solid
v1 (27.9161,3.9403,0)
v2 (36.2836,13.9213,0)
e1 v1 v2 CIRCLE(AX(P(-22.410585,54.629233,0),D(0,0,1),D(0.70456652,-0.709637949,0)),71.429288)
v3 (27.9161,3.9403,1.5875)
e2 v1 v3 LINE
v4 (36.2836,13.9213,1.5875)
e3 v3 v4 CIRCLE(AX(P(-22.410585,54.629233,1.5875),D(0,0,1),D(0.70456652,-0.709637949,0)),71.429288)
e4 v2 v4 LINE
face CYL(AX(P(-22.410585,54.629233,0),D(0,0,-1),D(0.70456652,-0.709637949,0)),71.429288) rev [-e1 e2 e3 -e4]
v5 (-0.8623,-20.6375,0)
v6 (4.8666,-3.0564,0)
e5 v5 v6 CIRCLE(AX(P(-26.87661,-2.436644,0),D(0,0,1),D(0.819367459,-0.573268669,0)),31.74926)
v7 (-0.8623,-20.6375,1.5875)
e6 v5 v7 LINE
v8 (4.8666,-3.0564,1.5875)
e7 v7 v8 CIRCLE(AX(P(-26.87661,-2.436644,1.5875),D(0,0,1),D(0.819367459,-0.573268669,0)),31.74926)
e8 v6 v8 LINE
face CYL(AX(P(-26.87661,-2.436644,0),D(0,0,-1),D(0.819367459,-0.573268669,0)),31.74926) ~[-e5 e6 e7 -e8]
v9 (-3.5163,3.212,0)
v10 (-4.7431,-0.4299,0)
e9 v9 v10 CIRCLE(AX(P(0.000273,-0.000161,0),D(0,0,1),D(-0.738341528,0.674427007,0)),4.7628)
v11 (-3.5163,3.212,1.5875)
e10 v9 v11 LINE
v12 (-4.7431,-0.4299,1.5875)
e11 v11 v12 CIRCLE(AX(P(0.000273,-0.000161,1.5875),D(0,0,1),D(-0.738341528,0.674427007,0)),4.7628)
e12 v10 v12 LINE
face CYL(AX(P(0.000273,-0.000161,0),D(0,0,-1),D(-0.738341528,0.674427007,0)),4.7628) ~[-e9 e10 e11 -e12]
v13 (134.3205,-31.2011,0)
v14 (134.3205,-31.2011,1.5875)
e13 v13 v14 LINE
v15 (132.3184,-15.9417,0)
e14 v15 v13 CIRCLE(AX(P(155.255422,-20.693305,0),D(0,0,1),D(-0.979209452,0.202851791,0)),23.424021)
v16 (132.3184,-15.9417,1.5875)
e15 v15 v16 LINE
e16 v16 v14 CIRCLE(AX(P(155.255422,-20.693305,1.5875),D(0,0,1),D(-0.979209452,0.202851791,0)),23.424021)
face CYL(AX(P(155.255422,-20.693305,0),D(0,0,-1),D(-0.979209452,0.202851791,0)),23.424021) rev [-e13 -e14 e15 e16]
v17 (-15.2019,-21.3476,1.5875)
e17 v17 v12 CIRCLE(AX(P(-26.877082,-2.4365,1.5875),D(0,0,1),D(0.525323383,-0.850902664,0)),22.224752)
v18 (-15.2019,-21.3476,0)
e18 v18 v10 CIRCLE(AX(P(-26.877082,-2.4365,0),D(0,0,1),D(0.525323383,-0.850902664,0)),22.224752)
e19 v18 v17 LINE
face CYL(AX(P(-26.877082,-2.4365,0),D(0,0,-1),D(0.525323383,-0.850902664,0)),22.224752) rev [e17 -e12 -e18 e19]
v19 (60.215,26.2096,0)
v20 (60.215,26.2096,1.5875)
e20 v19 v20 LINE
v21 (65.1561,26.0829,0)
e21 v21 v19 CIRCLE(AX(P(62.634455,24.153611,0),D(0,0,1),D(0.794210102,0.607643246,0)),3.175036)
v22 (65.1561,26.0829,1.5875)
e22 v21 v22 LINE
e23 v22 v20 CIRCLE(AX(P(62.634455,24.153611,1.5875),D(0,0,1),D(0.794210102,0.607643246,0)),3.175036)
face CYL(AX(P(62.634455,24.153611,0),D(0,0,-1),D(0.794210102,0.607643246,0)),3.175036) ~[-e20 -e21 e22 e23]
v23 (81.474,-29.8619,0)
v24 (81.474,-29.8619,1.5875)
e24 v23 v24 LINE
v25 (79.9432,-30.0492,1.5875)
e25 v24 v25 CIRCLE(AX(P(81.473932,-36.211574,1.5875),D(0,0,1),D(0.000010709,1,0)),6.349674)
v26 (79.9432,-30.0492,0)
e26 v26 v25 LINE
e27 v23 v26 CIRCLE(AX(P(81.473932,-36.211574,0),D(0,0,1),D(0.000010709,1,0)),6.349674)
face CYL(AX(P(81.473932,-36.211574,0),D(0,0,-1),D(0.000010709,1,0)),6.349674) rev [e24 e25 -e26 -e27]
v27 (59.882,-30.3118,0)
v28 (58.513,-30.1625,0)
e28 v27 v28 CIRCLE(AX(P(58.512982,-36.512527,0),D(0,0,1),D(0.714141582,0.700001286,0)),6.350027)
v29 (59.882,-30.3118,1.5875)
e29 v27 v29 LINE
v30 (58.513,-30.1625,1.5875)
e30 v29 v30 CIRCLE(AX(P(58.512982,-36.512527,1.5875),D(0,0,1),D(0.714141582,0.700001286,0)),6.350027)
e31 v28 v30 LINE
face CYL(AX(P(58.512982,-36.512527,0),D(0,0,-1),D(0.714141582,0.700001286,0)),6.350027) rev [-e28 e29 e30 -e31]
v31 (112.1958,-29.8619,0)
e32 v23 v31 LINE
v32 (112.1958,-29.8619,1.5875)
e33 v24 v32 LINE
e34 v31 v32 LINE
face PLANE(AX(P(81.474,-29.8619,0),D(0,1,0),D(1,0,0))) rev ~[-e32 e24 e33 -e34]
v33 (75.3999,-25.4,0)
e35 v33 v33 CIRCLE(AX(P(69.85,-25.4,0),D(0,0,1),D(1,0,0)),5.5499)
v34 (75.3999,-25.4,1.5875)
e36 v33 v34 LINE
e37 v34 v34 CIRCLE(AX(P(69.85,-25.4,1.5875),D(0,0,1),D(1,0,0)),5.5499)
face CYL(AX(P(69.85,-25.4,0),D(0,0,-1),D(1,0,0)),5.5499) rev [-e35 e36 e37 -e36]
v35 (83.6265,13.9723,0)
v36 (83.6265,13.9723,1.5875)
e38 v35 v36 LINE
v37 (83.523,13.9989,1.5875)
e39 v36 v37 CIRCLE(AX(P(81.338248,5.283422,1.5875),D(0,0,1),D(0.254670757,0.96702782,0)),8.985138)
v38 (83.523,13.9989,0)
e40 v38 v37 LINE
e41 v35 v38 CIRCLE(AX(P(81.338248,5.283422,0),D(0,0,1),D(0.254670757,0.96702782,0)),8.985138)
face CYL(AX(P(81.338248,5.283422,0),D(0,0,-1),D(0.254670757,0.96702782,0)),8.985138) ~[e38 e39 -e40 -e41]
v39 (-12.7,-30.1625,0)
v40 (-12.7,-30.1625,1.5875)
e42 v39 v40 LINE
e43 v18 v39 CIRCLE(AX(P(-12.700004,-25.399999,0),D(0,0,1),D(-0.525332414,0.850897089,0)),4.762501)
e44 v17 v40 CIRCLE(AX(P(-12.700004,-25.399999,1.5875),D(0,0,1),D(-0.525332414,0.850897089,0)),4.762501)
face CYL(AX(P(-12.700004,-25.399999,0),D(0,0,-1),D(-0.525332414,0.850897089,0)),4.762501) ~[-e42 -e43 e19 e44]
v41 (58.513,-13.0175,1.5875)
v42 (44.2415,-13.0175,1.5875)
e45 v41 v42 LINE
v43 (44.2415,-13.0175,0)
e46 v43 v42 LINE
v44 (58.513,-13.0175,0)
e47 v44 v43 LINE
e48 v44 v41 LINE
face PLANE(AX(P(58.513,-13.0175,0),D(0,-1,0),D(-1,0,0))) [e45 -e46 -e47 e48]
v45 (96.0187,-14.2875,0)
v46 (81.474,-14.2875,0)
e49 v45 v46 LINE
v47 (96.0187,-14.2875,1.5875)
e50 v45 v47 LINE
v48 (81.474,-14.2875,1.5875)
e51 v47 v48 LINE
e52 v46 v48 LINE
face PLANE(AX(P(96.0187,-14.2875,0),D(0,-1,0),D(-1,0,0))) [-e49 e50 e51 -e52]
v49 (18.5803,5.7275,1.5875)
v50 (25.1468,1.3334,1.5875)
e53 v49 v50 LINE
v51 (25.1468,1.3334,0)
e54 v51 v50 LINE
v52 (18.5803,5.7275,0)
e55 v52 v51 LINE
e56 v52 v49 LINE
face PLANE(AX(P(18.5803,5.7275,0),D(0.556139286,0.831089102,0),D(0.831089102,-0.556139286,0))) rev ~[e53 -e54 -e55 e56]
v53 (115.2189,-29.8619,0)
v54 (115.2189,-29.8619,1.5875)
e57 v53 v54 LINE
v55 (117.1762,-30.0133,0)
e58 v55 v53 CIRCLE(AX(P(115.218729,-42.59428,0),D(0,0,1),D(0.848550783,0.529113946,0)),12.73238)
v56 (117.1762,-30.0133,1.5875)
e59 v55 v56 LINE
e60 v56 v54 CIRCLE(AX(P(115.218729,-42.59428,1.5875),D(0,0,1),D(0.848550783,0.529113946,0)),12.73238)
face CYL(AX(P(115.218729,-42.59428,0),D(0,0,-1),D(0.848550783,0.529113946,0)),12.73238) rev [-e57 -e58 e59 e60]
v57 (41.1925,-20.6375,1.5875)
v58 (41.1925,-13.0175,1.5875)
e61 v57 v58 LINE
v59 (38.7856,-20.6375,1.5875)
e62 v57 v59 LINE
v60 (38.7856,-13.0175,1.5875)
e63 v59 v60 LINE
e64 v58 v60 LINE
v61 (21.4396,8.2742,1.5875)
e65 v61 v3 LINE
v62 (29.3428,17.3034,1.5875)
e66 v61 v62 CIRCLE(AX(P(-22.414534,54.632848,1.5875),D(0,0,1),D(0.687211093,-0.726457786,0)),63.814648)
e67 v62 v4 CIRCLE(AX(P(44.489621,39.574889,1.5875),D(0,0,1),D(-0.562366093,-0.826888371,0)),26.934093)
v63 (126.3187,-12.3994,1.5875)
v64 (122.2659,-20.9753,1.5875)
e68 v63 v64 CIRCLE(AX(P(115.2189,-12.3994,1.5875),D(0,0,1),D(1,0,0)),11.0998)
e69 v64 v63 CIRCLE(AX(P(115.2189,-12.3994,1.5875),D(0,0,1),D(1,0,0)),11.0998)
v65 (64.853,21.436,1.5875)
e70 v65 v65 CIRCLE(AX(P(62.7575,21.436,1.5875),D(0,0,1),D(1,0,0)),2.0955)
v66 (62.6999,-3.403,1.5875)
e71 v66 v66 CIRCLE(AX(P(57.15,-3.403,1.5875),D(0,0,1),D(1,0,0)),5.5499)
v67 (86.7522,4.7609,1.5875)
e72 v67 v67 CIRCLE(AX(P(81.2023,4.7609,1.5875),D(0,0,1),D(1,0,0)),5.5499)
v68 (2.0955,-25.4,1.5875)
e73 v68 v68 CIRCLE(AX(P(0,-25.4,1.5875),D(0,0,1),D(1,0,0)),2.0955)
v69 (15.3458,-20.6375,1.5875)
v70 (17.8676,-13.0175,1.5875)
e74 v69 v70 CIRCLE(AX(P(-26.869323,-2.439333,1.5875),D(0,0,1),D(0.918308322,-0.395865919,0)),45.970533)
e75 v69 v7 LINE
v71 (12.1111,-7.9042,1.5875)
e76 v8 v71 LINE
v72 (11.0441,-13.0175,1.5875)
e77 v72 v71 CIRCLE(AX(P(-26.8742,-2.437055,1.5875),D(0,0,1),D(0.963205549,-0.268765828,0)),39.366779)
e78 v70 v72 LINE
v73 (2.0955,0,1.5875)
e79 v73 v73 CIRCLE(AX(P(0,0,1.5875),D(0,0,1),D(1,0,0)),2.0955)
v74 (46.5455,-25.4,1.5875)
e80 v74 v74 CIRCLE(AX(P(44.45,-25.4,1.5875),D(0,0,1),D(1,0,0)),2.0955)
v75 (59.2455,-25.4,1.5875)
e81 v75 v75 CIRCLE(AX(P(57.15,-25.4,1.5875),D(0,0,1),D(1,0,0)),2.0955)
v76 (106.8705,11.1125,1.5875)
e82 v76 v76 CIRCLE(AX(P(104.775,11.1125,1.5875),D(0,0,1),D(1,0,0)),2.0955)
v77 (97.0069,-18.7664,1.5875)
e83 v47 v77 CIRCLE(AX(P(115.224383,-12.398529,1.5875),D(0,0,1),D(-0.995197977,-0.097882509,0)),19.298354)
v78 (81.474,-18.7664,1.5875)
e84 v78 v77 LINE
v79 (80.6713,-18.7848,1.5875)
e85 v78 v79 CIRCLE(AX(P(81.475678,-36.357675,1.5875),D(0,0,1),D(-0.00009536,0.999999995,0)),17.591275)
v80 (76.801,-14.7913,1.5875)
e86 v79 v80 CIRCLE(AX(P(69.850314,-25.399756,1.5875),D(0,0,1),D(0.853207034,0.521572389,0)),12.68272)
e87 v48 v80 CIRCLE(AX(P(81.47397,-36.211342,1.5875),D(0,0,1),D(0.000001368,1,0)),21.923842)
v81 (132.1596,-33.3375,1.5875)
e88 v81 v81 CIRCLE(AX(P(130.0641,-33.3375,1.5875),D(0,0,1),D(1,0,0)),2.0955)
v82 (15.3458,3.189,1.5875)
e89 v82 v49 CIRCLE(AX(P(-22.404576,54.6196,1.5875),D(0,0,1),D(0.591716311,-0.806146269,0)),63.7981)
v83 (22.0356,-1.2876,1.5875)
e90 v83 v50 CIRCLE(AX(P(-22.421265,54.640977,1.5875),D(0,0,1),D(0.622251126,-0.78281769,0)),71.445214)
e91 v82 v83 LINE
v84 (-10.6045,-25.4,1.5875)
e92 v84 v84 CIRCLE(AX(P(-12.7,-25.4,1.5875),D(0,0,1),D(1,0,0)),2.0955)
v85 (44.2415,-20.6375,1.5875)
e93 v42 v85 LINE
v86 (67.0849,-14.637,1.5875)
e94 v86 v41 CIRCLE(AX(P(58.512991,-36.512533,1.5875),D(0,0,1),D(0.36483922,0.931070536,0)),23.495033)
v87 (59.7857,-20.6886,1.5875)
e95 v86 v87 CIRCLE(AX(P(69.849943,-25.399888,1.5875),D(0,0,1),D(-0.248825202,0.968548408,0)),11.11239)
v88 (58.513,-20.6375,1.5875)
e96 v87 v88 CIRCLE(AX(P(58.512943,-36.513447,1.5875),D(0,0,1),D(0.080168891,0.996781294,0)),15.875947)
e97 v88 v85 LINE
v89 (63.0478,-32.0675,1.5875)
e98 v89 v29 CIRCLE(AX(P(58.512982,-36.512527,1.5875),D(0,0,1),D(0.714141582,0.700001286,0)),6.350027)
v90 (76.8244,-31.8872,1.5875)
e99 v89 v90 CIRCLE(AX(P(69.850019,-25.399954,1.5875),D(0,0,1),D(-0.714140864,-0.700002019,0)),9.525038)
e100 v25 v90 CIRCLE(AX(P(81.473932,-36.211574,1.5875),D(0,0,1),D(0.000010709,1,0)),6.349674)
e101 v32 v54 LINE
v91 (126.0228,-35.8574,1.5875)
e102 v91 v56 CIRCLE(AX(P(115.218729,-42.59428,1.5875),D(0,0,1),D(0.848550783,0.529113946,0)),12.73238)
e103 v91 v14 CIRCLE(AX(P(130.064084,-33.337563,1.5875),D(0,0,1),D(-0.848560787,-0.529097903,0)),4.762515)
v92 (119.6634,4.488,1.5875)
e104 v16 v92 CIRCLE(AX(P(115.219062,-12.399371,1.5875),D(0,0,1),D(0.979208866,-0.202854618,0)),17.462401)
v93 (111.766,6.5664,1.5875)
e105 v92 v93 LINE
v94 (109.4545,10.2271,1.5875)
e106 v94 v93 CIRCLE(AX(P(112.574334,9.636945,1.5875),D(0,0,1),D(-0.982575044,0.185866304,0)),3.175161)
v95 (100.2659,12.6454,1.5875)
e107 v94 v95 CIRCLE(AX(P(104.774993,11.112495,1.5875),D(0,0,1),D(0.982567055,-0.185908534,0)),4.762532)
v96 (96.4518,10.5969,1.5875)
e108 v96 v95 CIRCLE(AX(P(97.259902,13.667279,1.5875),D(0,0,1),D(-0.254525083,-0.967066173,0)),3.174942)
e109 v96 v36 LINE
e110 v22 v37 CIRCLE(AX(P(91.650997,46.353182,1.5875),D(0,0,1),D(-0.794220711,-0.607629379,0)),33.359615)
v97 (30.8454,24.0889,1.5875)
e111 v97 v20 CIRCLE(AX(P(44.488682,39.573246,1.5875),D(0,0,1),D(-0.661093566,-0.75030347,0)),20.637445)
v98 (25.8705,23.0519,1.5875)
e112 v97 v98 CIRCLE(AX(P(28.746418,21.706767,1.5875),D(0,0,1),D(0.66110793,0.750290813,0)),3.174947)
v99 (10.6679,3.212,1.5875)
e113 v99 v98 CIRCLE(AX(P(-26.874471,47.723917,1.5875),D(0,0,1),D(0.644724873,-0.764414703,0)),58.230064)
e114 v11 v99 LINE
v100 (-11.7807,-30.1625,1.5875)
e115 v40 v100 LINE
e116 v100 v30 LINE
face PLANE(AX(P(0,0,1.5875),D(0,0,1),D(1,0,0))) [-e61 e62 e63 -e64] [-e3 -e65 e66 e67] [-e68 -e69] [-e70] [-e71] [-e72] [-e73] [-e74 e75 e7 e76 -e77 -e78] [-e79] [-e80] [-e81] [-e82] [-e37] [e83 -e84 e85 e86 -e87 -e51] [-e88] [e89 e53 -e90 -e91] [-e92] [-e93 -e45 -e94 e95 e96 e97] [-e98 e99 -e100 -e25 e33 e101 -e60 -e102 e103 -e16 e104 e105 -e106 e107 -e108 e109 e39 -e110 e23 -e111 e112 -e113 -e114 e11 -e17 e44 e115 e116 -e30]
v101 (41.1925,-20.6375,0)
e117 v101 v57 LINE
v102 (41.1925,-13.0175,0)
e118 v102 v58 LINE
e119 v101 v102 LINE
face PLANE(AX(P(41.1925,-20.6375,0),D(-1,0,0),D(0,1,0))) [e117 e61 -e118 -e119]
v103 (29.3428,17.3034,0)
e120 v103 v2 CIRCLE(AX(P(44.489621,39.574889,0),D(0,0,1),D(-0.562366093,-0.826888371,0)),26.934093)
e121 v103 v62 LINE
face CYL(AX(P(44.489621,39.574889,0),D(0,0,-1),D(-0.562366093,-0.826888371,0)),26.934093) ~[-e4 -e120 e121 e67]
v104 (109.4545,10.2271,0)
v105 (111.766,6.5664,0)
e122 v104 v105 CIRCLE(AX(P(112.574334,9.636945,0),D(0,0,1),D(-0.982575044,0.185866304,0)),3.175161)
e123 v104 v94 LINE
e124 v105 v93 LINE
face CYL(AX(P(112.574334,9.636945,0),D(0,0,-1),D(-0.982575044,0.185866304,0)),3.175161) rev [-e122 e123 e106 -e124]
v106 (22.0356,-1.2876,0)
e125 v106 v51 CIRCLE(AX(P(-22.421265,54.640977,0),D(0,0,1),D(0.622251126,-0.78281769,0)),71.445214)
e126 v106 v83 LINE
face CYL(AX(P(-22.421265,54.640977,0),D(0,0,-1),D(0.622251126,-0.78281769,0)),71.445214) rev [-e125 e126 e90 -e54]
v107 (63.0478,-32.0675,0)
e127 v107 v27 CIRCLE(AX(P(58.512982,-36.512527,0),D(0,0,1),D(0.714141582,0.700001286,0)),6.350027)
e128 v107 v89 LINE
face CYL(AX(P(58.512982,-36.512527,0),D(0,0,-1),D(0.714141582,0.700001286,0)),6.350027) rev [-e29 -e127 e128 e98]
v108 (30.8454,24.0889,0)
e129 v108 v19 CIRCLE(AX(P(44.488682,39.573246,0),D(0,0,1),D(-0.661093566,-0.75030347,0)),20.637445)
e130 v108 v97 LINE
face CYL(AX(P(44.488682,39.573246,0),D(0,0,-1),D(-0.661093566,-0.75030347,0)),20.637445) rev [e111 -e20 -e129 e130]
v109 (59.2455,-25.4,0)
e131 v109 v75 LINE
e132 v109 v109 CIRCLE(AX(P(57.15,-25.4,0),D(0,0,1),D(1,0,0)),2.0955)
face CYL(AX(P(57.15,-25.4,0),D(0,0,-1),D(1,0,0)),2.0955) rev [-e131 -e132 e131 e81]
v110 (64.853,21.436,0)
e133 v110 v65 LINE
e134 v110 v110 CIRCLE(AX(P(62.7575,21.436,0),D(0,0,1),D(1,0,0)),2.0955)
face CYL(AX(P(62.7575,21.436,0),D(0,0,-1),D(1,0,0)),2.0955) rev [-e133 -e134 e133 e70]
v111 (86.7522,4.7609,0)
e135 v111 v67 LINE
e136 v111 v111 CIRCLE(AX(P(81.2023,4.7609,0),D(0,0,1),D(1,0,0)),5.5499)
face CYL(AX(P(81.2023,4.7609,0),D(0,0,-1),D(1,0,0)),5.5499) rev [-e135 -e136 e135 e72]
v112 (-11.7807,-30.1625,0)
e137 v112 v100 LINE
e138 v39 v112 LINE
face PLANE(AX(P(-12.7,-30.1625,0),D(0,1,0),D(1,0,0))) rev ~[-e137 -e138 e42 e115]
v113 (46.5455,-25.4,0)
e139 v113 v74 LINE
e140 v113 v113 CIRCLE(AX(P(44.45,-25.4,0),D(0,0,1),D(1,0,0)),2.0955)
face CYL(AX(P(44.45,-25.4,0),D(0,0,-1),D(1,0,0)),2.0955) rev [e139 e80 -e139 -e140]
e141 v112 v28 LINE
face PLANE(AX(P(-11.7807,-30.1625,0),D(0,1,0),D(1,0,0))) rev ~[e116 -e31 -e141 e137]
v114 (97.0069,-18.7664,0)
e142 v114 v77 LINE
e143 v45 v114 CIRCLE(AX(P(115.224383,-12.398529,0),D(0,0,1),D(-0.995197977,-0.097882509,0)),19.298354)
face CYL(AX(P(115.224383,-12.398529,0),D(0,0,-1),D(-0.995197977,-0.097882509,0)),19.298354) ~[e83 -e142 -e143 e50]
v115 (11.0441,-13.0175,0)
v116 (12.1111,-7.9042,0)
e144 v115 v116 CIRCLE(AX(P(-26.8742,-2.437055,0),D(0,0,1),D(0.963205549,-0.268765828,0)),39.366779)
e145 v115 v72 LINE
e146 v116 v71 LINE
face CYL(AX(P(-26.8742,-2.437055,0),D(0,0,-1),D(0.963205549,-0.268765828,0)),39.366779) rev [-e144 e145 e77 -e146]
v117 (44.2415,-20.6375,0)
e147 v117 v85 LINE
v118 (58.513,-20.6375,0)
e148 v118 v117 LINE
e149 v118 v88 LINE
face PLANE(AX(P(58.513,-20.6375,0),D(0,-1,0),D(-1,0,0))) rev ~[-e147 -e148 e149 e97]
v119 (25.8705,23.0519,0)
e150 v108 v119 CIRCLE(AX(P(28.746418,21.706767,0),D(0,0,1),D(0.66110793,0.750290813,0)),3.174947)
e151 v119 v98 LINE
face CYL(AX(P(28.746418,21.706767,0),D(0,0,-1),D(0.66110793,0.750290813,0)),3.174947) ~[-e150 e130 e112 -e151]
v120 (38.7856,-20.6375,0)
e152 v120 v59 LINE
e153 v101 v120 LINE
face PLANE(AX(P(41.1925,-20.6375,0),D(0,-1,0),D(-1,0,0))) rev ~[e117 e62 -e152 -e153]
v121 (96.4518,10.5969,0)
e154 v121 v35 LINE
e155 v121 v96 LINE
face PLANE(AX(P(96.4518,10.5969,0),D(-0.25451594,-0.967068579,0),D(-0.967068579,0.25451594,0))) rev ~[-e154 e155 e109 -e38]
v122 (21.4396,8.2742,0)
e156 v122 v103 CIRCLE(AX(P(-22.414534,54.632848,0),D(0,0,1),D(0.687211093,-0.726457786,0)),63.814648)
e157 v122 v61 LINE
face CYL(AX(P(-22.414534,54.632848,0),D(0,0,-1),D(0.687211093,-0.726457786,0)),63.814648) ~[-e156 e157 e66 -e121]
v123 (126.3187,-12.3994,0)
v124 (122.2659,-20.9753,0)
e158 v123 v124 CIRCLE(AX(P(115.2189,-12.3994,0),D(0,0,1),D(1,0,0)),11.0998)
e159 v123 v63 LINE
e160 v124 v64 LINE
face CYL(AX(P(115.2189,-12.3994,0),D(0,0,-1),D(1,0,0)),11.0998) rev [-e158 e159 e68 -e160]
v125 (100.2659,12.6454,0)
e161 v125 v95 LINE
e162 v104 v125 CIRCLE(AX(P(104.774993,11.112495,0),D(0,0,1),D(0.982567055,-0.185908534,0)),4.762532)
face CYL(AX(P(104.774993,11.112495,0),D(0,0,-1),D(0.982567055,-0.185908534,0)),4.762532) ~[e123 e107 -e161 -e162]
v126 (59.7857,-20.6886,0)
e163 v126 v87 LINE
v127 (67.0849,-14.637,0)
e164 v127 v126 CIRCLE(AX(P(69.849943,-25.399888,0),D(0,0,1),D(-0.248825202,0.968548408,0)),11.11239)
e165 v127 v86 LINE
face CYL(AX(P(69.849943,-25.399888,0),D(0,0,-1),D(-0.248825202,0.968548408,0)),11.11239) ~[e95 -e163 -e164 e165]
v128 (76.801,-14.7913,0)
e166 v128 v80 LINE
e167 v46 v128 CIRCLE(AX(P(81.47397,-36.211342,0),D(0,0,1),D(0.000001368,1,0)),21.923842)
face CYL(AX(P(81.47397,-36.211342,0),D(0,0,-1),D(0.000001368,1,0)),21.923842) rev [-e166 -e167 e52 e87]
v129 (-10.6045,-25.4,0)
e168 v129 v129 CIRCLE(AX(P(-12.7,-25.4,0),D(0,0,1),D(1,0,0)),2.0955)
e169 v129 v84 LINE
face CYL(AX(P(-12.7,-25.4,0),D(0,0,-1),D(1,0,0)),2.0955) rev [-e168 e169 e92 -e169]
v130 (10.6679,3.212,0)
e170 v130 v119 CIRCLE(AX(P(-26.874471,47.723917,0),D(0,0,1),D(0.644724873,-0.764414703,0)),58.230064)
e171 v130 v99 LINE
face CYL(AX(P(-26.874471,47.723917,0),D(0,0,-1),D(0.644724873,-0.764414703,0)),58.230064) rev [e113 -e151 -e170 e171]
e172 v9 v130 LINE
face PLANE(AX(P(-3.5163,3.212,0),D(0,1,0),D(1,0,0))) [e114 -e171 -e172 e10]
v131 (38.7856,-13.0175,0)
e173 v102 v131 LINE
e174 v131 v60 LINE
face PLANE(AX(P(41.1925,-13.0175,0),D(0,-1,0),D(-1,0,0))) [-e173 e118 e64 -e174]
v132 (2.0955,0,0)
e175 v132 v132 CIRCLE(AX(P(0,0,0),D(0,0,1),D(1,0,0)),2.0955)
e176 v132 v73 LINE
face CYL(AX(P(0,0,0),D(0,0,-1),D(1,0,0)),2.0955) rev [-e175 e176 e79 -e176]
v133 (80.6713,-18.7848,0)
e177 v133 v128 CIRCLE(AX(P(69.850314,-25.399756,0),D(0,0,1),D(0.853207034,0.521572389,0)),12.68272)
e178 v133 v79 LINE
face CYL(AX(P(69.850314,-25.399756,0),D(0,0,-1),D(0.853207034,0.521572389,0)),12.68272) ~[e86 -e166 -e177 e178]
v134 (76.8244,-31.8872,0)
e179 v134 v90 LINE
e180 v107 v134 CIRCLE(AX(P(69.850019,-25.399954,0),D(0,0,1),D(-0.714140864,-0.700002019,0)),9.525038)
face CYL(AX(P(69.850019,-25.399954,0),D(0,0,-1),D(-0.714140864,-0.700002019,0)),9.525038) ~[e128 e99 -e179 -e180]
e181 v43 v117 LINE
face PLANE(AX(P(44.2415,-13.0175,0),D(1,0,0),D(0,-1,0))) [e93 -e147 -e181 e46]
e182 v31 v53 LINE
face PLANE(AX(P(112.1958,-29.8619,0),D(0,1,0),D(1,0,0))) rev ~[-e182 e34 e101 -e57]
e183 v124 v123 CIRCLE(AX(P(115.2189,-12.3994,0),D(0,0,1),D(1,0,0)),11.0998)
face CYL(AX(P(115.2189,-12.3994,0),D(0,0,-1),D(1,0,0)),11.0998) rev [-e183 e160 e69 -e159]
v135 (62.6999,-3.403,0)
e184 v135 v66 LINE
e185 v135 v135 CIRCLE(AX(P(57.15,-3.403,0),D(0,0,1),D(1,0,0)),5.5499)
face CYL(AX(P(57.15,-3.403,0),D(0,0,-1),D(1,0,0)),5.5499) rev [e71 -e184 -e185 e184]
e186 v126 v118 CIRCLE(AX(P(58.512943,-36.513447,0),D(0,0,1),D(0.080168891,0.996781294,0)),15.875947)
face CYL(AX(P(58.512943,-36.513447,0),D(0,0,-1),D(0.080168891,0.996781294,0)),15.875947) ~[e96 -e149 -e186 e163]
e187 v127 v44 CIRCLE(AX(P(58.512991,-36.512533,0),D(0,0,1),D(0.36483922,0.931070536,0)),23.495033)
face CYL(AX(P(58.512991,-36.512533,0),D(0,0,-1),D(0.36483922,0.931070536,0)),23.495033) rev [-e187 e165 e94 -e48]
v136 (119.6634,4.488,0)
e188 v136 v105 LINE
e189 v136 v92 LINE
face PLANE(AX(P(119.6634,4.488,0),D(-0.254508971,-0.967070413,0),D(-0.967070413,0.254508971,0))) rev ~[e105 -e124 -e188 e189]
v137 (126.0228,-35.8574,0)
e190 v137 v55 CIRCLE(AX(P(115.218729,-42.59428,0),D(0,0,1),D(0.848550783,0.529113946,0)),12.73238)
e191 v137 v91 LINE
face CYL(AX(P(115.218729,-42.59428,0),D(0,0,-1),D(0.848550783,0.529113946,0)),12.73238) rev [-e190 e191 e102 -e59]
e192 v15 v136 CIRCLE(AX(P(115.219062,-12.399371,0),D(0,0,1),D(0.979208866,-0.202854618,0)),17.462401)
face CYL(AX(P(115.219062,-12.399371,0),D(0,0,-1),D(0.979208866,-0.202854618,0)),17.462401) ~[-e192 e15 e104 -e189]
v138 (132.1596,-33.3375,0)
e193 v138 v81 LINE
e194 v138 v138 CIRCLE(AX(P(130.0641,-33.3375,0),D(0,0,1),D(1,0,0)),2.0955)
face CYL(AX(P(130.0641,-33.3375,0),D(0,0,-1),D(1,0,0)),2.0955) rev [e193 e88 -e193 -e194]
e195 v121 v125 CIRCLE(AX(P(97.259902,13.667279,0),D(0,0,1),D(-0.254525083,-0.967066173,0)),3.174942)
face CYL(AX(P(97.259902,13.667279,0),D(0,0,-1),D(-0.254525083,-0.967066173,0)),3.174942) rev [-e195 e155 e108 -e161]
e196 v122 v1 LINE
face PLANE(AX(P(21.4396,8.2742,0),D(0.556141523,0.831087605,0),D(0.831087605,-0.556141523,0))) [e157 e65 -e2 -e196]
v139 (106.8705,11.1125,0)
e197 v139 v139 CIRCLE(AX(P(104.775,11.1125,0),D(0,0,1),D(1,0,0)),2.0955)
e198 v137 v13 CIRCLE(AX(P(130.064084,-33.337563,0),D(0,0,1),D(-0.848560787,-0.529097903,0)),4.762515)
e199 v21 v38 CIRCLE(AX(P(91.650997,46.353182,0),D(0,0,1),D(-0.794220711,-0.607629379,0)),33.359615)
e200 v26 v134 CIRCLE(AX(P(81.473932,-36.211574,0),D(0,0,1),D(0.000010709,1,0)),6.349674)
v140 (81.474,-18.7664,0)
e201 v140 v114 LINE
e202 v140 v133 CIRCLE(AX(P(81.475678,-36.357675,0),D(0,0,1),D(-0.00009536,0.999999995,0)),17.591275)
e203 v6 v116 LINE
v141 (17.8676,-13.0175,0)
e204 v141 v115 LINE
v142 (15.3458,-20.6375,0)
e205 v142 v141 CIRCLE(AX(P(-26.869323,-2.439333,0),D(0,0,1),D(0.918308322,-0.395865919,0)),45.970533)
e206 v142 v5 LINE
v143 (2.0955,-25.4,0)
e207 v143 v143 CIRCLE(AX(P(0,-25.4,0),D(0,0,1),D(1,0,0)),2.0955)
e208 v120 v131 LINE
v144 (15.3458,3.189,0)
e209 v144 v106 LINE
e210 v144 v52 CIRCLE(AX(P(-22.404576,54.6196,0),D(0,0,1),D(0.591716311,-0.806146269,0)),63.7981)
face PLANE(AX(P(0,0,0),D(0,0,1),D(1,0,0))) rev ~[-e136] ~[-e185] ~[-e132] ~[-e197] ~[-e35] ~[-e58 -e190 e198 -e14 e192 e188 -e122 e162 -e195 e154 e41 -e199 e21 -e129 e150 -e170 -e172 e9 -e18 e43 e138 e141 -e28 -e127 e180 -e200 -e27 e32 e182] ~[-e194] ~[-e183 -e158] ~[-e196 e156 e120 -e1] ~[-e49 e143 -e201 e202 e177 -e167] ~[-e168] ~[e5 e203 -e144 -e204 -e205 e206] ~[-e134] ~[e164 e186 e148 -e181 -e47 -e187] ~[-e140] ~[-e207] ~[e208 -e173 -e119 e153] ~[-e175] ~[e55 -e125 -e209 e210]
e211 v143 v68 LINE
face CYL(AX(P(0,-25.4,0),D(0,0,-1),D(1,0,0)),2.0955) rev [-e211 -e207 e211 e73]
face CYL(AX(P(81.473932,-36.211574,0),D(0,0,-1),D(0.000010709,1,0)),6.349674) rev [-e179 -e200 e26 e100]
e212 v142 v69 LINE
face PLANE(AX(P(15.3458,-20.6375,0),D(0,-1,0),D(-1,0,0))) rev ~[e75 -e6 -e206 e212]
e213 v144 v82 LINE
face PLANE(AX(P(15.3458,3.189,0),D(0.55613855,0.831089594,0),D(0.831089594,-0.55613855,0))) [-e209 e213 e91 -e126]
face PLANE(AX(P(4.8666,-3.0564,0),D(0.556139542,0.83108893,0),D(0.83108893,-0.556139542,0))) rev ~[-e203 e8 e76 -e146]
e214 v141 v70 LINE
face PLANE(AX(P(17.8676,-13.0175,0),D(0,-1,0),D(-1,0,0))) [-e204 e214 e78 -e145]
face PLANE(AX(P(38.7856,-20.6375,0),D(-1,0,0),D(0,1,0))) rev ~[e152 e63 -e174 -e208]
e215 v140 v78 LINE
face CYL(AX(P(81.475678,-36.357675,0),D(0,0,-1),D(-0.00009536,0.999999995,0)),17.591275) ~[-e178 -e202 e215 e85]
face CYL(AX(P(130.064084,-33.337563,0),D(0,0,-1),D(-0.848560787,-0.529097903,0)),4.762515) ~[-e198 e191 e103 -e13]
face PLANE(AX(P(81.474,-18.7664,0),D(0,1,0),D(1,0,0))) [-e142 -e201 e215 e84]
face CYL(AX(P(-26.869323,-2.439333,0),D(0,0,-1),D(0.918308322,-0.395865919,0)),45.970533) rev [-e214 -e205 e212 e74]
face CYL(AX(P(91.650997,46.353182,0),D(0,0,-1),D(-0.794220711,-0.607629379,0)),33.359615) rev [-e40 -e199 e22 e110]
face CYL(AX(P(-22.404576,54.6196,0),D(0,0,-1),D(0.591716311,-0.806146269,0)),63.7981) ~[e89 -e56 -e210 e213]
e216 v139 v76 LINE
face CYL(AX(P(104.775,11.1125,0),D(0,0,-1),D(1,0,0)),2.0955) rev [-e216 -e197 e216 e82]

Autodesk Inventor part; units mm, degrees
ref_plane "YZ Plane" through (0, 0, 0) normal (1, 0, 0) x (0, 1, 0)
ref_plane "XZ Plane" through (0, 0, 0) normal (0, 1, 0) x (-1, 0, 0)
ref_plane "XY Plane" through (0, 0, 0) normal (0, 0, 1) x (1, 0, 0)
sketch "main" plane through (0, 0, 0) normal (0, 0, 1) x (1, 0, 0)
  circle A0 centre (-14.2783, -9.7185) radius 2.1844
  ellipse E0 centre (34.925, 23.8125) end of major axis (34.925, 33.3375) minor radius 9.5235
  point P0 (-4.2471, 2.7063)
sketch "Sketch1" plane through (0, 0, 0) normal (0, 0, 1) x (1, 0, 0)
  arc A0 (-3.5163, 3.212) -> (-4.7431, -0.4299) centre (0, 0) ccw
  circle A1 centre (0, -25.4) radius 2.0955
  circle A2 centre (-12.7, -25.4) radius 2.0955
  arc A3 (-15.2019, -21.3476) -> (-12.7, -30.1625) centre (-12.7, -25.4) ccw
  line L0 (-12.7, -30.1625) -> (-11.7807, -30.1625)
  arc A4 (-15.2019, -21.3476) -> (-4.7431, -0.4299) centre (-26.8773, -2.4363) ccw
  line L1 (31.75, -25.4) -> (57.15, -25.4) construction
  line L2 (31.75, -25.4) -> (36.5125, -25.4) construction
  circle A5 centre (44.45, -25.4) radius 2.0955
  circle A6 centre (57.15, -25.4) radius 2.0955
  circle A7 centre (69.85, -25.4) radius 5.5499
  arc A8 (63.0478, -32.0675) -> (76.8244, -31.8872) centre (69.85, -25.4) ccw
  circle A9 centre (57.15, -3.403) radius 5.5499
  line L3 (-11.7807, -30.1625) -> (58.513, -30.1625)
  line L4 (81.474, -29.8619) -> (115.2189, -29.8619)
  line L5 (-11.7807, -30.1625) -> (61.6011, -30.1625) construction
  line L6 (78.2653, -29.8619) -> (115.2189, -29.8619) construction
  circle A10 centre (81.2023, 4.7609) radius 5.5499
  arc A11 (83.6265, 13.9723) -> (83.523, 13.9989) centre (81.2023, 4.7609) ccw
  arc A12 (65.1561, 26.0829) -> (83.523, 13.9989) centre (91.6512, 46.3534) ccw
  arc A13 (81.474, -29.8619) -> (76.8244, -31.8872) centre (81.474, -36.2119) ccw
  arc A14 (63.0478, -32.0675) -> (58.513, -30.1625) centre (58.513, -36.5125) ccw
  circle A15 centre (115.2189, -12.3994) radius 11.0998
  arc A16 (132.3184, -15.9417) -> (119.6634, 4.488) centre (115.2189, -12.3994) ccw
  circle A17 centre (104.775, 11.1125) radius 2.0955
  arc A18 (109.4545, 10.2271) -> (100.2659, 12.6454) centre (104.775, 11.1125) ccw
  line L7 (119.6634, 4.488) -> (111.766, 6.5664)
  line L8 (96.4518, 10.5969) -> (83.6265, 13.9723)
  arc A19 (96.4518, 10.5969) -> (100.2659, 12.6454) centre (97.2599, 13.6673) ccw
  arc A20 (109.4545, 10.2271) -> (111.766, 6.5664) centre (112.5741, 9.6369) ccw
  circle A21 centre (130.0641, -33.3375) radius 2.0955
  arc A22 (126.0228, -35.8574) -> (134.3205, -31.2011) centre (130.0641, -33.3375) ccw
  arc A23 (132.3184, -15.9417) -> (134.3205, -31.2011) centre (155.2553, -20.6933) ccw
  arc A24 (126.0228, -35.8574) -> (115.2189, -29.8619) centre (115.2189, -42.5941) ccw
  arc A25 (122.2659, -20.9753) -> (122.2726, -21.4129) centre (155.2553, -20.6933) ccw
  arc A26 (59.7857, -20.6886) -> (58.513, -20.6375) centre (58.513, -36.5125) ccw
  arc A27 (-0.8623, -20.6375) -> (4.8666, -3.0564) centre (-26.8773, -2.4363) ccw
  arc A28 (67.0849, -14.637) -> (58.513, -13.0175) centre (58.513, -36.5125) ccw
  arc A29 (11.0441, -13.0175) -> (12.1111, -7.9042) centre (-26.8773, -2.4363) ccw
  line L9 (4.8666, -3.0564) -> (12.1111, -7.9042)
  line L10 (18.5803, 5.7275) -> (25.1468, 1.3334)
  line L11 (21.4396, 8.2742) -> (27.9161, 3.9403)
  arc A30 (15.3458, -20.6375) -> (17.8676, -13.0175) centre (-26.8773, -2.4363) ccw
  line L12 (17.8676, -13.0175) -> (11.0441, -13.0175)
  line L13 (15.3458, -20.6375) -> (-0.8623, -20.6375)
  line L14 (38.7856, -20.6375) -> (38.7856, -13.0175)
  line L15 (41.1925, -20.6375) -> (41.1925, -13.0175)
  line L16 (44.2415, -13.0175) -> (44.2415, -20.6375)
  line L17 (58.513, -13.0175) -> (44.2415, -13.0175)
  line L18 (41.1925, -13.0175) -> (38.7856, -13.0175)
  line L19 (58.513, -20.6375) -> (44.2415, -20.6375)
  line L20 (41.1925, -20.6375) -> (38.7856, -20.6375)
  arc A31 (41.2533, 43.0681) -> (41.1925, 43.0108) centre (44.4887, 39.5733) ccw
  line L21 (15.3458, 3.189) -> (22.0356, -1.2876)
  arc A32 (15.3458, 3.189) -> (18.5803, 5.7275) centre (-22.4149, 54.6332) ccw
  arc A33 (21.4396, 8.2742) -> (29.3428, 17.3034) centre (-22.4149, 54.6332) ccw
  arc A34 (22.0356, -1.2876) -> (25.1468, 1.3334) centre (-22.4149, 54.6332) ccw
  arc A35 (40.5702, 20.9307) -> (41.1925, 20.8107) centre (44.4887, 39.5733) ccw
  arc A36 (27.9161, 3.9403) -> (36.2836, 13.9213) centre (-22.4149, 54.6332) ccw
  arc A37 (83.6265, 13.9723) -> (83.523, 13.9989) centre (81.2023, 4.7609) ccw
  arc A38 (112.1958, -29.8619) -> (117.1762, -30.0133) centre (115.2189, -12.3994) ccw
  arc A39 (67.0849, -14.637) -> (59.7857, -20.6886) centre (69.85, -25.4) ccw
  arc A40 (59.8098, -30.1625) -> (59.882, -30.3118) centre (69.85, -25.4) ccw
  arc A41 (79.9432, -30.0492) -> (80.0274, -29.8619) centre (69.85, -25.4) ccw
  arc A42 (81.474, -14.2875) -> (76.801, -14.7913) centre (81.474, -36.2119) ccw
  arc A43 (80.6713, -18.7848) -> (76.801, -14.7913) centre (69.85, -25.4) ccw
  arc A44 (81.474, -18.7664) -> (80.6713, -18.7848) centre (81.474, -36.2119) ccw
  line L22 (81.474, -18.7664) -> (97.0069, -18.7664)
  arc A45 (96.0187, -14.2875) -> (97.0069, -18.7664) centre (115.2189, -12.3994) ccw
  line L23 (96.0187, -14.2875) -> (81.474, -14.2875)
  circle A46 centre (62.7575, 21.436) radius 2.0955
  arc A47 (10.6679, 3.212) -> (25.8705, 23.0519) centre (-26.8733, 47.7228) ccw
  arc A48 (30.8454, 24.0889) -> (60.215, 26.2096) centre (44.4887, 39.5733) ccw
  arc A49 (29.3428, 17.3034) -> (36.2836, 13.9213) centre (44.4887, 39.5733) ccw
  arc A50 (30.8454, 24.0889) -> (25.8705, 23.0519) centre (28.7464, 21.7067) ccw
  arc A51 (65.1561, 26.0829) -> (60.215, 26.2096) centre (62.6345, 24.1537) ccw
  circle A52 centre (0, 0) radius 2.0955
  line L24 (-3.5163, 3.212) -> (10.6679, 3.212)
  point P0 (-1.8077, 4.4061)
  point P1 (107.9569, 7.5689)
  point P2 (100.2609, 9.5944)
  point P3 (9.126, 4.4208)
  point P4 (41.1925, 20.8107)
  dimension "d7" = 22.225
  dimension "d25" = 4.191
  dimension "d26" = 4.191
  dimension "d30" = 11.0998
  dimension "d31" = 11.0998
  dimension "d38" = 6.35
  dimension "d43" = 4.191
  dimension "d44" = 9.525
  dimension "d47" = 9.525
  dimension "d54" = 4.191
  dimension "d56" = 12.7
  dimension "d58" = 41.275
  dimension "d60" = 3.175
extrude "Extrusion1" add sketch "Sketch1" along normal blind 1.5875 contours L24 A47 A50 A48 A51 A12 A11 L8 A19 A18 A20 L7 A16 A23 A22 A24 L4 A13 A8 A14 L3 L0 A3 A4 A0
properties part number "reservoir_mount_inner" material "Acetal Resin, White"
